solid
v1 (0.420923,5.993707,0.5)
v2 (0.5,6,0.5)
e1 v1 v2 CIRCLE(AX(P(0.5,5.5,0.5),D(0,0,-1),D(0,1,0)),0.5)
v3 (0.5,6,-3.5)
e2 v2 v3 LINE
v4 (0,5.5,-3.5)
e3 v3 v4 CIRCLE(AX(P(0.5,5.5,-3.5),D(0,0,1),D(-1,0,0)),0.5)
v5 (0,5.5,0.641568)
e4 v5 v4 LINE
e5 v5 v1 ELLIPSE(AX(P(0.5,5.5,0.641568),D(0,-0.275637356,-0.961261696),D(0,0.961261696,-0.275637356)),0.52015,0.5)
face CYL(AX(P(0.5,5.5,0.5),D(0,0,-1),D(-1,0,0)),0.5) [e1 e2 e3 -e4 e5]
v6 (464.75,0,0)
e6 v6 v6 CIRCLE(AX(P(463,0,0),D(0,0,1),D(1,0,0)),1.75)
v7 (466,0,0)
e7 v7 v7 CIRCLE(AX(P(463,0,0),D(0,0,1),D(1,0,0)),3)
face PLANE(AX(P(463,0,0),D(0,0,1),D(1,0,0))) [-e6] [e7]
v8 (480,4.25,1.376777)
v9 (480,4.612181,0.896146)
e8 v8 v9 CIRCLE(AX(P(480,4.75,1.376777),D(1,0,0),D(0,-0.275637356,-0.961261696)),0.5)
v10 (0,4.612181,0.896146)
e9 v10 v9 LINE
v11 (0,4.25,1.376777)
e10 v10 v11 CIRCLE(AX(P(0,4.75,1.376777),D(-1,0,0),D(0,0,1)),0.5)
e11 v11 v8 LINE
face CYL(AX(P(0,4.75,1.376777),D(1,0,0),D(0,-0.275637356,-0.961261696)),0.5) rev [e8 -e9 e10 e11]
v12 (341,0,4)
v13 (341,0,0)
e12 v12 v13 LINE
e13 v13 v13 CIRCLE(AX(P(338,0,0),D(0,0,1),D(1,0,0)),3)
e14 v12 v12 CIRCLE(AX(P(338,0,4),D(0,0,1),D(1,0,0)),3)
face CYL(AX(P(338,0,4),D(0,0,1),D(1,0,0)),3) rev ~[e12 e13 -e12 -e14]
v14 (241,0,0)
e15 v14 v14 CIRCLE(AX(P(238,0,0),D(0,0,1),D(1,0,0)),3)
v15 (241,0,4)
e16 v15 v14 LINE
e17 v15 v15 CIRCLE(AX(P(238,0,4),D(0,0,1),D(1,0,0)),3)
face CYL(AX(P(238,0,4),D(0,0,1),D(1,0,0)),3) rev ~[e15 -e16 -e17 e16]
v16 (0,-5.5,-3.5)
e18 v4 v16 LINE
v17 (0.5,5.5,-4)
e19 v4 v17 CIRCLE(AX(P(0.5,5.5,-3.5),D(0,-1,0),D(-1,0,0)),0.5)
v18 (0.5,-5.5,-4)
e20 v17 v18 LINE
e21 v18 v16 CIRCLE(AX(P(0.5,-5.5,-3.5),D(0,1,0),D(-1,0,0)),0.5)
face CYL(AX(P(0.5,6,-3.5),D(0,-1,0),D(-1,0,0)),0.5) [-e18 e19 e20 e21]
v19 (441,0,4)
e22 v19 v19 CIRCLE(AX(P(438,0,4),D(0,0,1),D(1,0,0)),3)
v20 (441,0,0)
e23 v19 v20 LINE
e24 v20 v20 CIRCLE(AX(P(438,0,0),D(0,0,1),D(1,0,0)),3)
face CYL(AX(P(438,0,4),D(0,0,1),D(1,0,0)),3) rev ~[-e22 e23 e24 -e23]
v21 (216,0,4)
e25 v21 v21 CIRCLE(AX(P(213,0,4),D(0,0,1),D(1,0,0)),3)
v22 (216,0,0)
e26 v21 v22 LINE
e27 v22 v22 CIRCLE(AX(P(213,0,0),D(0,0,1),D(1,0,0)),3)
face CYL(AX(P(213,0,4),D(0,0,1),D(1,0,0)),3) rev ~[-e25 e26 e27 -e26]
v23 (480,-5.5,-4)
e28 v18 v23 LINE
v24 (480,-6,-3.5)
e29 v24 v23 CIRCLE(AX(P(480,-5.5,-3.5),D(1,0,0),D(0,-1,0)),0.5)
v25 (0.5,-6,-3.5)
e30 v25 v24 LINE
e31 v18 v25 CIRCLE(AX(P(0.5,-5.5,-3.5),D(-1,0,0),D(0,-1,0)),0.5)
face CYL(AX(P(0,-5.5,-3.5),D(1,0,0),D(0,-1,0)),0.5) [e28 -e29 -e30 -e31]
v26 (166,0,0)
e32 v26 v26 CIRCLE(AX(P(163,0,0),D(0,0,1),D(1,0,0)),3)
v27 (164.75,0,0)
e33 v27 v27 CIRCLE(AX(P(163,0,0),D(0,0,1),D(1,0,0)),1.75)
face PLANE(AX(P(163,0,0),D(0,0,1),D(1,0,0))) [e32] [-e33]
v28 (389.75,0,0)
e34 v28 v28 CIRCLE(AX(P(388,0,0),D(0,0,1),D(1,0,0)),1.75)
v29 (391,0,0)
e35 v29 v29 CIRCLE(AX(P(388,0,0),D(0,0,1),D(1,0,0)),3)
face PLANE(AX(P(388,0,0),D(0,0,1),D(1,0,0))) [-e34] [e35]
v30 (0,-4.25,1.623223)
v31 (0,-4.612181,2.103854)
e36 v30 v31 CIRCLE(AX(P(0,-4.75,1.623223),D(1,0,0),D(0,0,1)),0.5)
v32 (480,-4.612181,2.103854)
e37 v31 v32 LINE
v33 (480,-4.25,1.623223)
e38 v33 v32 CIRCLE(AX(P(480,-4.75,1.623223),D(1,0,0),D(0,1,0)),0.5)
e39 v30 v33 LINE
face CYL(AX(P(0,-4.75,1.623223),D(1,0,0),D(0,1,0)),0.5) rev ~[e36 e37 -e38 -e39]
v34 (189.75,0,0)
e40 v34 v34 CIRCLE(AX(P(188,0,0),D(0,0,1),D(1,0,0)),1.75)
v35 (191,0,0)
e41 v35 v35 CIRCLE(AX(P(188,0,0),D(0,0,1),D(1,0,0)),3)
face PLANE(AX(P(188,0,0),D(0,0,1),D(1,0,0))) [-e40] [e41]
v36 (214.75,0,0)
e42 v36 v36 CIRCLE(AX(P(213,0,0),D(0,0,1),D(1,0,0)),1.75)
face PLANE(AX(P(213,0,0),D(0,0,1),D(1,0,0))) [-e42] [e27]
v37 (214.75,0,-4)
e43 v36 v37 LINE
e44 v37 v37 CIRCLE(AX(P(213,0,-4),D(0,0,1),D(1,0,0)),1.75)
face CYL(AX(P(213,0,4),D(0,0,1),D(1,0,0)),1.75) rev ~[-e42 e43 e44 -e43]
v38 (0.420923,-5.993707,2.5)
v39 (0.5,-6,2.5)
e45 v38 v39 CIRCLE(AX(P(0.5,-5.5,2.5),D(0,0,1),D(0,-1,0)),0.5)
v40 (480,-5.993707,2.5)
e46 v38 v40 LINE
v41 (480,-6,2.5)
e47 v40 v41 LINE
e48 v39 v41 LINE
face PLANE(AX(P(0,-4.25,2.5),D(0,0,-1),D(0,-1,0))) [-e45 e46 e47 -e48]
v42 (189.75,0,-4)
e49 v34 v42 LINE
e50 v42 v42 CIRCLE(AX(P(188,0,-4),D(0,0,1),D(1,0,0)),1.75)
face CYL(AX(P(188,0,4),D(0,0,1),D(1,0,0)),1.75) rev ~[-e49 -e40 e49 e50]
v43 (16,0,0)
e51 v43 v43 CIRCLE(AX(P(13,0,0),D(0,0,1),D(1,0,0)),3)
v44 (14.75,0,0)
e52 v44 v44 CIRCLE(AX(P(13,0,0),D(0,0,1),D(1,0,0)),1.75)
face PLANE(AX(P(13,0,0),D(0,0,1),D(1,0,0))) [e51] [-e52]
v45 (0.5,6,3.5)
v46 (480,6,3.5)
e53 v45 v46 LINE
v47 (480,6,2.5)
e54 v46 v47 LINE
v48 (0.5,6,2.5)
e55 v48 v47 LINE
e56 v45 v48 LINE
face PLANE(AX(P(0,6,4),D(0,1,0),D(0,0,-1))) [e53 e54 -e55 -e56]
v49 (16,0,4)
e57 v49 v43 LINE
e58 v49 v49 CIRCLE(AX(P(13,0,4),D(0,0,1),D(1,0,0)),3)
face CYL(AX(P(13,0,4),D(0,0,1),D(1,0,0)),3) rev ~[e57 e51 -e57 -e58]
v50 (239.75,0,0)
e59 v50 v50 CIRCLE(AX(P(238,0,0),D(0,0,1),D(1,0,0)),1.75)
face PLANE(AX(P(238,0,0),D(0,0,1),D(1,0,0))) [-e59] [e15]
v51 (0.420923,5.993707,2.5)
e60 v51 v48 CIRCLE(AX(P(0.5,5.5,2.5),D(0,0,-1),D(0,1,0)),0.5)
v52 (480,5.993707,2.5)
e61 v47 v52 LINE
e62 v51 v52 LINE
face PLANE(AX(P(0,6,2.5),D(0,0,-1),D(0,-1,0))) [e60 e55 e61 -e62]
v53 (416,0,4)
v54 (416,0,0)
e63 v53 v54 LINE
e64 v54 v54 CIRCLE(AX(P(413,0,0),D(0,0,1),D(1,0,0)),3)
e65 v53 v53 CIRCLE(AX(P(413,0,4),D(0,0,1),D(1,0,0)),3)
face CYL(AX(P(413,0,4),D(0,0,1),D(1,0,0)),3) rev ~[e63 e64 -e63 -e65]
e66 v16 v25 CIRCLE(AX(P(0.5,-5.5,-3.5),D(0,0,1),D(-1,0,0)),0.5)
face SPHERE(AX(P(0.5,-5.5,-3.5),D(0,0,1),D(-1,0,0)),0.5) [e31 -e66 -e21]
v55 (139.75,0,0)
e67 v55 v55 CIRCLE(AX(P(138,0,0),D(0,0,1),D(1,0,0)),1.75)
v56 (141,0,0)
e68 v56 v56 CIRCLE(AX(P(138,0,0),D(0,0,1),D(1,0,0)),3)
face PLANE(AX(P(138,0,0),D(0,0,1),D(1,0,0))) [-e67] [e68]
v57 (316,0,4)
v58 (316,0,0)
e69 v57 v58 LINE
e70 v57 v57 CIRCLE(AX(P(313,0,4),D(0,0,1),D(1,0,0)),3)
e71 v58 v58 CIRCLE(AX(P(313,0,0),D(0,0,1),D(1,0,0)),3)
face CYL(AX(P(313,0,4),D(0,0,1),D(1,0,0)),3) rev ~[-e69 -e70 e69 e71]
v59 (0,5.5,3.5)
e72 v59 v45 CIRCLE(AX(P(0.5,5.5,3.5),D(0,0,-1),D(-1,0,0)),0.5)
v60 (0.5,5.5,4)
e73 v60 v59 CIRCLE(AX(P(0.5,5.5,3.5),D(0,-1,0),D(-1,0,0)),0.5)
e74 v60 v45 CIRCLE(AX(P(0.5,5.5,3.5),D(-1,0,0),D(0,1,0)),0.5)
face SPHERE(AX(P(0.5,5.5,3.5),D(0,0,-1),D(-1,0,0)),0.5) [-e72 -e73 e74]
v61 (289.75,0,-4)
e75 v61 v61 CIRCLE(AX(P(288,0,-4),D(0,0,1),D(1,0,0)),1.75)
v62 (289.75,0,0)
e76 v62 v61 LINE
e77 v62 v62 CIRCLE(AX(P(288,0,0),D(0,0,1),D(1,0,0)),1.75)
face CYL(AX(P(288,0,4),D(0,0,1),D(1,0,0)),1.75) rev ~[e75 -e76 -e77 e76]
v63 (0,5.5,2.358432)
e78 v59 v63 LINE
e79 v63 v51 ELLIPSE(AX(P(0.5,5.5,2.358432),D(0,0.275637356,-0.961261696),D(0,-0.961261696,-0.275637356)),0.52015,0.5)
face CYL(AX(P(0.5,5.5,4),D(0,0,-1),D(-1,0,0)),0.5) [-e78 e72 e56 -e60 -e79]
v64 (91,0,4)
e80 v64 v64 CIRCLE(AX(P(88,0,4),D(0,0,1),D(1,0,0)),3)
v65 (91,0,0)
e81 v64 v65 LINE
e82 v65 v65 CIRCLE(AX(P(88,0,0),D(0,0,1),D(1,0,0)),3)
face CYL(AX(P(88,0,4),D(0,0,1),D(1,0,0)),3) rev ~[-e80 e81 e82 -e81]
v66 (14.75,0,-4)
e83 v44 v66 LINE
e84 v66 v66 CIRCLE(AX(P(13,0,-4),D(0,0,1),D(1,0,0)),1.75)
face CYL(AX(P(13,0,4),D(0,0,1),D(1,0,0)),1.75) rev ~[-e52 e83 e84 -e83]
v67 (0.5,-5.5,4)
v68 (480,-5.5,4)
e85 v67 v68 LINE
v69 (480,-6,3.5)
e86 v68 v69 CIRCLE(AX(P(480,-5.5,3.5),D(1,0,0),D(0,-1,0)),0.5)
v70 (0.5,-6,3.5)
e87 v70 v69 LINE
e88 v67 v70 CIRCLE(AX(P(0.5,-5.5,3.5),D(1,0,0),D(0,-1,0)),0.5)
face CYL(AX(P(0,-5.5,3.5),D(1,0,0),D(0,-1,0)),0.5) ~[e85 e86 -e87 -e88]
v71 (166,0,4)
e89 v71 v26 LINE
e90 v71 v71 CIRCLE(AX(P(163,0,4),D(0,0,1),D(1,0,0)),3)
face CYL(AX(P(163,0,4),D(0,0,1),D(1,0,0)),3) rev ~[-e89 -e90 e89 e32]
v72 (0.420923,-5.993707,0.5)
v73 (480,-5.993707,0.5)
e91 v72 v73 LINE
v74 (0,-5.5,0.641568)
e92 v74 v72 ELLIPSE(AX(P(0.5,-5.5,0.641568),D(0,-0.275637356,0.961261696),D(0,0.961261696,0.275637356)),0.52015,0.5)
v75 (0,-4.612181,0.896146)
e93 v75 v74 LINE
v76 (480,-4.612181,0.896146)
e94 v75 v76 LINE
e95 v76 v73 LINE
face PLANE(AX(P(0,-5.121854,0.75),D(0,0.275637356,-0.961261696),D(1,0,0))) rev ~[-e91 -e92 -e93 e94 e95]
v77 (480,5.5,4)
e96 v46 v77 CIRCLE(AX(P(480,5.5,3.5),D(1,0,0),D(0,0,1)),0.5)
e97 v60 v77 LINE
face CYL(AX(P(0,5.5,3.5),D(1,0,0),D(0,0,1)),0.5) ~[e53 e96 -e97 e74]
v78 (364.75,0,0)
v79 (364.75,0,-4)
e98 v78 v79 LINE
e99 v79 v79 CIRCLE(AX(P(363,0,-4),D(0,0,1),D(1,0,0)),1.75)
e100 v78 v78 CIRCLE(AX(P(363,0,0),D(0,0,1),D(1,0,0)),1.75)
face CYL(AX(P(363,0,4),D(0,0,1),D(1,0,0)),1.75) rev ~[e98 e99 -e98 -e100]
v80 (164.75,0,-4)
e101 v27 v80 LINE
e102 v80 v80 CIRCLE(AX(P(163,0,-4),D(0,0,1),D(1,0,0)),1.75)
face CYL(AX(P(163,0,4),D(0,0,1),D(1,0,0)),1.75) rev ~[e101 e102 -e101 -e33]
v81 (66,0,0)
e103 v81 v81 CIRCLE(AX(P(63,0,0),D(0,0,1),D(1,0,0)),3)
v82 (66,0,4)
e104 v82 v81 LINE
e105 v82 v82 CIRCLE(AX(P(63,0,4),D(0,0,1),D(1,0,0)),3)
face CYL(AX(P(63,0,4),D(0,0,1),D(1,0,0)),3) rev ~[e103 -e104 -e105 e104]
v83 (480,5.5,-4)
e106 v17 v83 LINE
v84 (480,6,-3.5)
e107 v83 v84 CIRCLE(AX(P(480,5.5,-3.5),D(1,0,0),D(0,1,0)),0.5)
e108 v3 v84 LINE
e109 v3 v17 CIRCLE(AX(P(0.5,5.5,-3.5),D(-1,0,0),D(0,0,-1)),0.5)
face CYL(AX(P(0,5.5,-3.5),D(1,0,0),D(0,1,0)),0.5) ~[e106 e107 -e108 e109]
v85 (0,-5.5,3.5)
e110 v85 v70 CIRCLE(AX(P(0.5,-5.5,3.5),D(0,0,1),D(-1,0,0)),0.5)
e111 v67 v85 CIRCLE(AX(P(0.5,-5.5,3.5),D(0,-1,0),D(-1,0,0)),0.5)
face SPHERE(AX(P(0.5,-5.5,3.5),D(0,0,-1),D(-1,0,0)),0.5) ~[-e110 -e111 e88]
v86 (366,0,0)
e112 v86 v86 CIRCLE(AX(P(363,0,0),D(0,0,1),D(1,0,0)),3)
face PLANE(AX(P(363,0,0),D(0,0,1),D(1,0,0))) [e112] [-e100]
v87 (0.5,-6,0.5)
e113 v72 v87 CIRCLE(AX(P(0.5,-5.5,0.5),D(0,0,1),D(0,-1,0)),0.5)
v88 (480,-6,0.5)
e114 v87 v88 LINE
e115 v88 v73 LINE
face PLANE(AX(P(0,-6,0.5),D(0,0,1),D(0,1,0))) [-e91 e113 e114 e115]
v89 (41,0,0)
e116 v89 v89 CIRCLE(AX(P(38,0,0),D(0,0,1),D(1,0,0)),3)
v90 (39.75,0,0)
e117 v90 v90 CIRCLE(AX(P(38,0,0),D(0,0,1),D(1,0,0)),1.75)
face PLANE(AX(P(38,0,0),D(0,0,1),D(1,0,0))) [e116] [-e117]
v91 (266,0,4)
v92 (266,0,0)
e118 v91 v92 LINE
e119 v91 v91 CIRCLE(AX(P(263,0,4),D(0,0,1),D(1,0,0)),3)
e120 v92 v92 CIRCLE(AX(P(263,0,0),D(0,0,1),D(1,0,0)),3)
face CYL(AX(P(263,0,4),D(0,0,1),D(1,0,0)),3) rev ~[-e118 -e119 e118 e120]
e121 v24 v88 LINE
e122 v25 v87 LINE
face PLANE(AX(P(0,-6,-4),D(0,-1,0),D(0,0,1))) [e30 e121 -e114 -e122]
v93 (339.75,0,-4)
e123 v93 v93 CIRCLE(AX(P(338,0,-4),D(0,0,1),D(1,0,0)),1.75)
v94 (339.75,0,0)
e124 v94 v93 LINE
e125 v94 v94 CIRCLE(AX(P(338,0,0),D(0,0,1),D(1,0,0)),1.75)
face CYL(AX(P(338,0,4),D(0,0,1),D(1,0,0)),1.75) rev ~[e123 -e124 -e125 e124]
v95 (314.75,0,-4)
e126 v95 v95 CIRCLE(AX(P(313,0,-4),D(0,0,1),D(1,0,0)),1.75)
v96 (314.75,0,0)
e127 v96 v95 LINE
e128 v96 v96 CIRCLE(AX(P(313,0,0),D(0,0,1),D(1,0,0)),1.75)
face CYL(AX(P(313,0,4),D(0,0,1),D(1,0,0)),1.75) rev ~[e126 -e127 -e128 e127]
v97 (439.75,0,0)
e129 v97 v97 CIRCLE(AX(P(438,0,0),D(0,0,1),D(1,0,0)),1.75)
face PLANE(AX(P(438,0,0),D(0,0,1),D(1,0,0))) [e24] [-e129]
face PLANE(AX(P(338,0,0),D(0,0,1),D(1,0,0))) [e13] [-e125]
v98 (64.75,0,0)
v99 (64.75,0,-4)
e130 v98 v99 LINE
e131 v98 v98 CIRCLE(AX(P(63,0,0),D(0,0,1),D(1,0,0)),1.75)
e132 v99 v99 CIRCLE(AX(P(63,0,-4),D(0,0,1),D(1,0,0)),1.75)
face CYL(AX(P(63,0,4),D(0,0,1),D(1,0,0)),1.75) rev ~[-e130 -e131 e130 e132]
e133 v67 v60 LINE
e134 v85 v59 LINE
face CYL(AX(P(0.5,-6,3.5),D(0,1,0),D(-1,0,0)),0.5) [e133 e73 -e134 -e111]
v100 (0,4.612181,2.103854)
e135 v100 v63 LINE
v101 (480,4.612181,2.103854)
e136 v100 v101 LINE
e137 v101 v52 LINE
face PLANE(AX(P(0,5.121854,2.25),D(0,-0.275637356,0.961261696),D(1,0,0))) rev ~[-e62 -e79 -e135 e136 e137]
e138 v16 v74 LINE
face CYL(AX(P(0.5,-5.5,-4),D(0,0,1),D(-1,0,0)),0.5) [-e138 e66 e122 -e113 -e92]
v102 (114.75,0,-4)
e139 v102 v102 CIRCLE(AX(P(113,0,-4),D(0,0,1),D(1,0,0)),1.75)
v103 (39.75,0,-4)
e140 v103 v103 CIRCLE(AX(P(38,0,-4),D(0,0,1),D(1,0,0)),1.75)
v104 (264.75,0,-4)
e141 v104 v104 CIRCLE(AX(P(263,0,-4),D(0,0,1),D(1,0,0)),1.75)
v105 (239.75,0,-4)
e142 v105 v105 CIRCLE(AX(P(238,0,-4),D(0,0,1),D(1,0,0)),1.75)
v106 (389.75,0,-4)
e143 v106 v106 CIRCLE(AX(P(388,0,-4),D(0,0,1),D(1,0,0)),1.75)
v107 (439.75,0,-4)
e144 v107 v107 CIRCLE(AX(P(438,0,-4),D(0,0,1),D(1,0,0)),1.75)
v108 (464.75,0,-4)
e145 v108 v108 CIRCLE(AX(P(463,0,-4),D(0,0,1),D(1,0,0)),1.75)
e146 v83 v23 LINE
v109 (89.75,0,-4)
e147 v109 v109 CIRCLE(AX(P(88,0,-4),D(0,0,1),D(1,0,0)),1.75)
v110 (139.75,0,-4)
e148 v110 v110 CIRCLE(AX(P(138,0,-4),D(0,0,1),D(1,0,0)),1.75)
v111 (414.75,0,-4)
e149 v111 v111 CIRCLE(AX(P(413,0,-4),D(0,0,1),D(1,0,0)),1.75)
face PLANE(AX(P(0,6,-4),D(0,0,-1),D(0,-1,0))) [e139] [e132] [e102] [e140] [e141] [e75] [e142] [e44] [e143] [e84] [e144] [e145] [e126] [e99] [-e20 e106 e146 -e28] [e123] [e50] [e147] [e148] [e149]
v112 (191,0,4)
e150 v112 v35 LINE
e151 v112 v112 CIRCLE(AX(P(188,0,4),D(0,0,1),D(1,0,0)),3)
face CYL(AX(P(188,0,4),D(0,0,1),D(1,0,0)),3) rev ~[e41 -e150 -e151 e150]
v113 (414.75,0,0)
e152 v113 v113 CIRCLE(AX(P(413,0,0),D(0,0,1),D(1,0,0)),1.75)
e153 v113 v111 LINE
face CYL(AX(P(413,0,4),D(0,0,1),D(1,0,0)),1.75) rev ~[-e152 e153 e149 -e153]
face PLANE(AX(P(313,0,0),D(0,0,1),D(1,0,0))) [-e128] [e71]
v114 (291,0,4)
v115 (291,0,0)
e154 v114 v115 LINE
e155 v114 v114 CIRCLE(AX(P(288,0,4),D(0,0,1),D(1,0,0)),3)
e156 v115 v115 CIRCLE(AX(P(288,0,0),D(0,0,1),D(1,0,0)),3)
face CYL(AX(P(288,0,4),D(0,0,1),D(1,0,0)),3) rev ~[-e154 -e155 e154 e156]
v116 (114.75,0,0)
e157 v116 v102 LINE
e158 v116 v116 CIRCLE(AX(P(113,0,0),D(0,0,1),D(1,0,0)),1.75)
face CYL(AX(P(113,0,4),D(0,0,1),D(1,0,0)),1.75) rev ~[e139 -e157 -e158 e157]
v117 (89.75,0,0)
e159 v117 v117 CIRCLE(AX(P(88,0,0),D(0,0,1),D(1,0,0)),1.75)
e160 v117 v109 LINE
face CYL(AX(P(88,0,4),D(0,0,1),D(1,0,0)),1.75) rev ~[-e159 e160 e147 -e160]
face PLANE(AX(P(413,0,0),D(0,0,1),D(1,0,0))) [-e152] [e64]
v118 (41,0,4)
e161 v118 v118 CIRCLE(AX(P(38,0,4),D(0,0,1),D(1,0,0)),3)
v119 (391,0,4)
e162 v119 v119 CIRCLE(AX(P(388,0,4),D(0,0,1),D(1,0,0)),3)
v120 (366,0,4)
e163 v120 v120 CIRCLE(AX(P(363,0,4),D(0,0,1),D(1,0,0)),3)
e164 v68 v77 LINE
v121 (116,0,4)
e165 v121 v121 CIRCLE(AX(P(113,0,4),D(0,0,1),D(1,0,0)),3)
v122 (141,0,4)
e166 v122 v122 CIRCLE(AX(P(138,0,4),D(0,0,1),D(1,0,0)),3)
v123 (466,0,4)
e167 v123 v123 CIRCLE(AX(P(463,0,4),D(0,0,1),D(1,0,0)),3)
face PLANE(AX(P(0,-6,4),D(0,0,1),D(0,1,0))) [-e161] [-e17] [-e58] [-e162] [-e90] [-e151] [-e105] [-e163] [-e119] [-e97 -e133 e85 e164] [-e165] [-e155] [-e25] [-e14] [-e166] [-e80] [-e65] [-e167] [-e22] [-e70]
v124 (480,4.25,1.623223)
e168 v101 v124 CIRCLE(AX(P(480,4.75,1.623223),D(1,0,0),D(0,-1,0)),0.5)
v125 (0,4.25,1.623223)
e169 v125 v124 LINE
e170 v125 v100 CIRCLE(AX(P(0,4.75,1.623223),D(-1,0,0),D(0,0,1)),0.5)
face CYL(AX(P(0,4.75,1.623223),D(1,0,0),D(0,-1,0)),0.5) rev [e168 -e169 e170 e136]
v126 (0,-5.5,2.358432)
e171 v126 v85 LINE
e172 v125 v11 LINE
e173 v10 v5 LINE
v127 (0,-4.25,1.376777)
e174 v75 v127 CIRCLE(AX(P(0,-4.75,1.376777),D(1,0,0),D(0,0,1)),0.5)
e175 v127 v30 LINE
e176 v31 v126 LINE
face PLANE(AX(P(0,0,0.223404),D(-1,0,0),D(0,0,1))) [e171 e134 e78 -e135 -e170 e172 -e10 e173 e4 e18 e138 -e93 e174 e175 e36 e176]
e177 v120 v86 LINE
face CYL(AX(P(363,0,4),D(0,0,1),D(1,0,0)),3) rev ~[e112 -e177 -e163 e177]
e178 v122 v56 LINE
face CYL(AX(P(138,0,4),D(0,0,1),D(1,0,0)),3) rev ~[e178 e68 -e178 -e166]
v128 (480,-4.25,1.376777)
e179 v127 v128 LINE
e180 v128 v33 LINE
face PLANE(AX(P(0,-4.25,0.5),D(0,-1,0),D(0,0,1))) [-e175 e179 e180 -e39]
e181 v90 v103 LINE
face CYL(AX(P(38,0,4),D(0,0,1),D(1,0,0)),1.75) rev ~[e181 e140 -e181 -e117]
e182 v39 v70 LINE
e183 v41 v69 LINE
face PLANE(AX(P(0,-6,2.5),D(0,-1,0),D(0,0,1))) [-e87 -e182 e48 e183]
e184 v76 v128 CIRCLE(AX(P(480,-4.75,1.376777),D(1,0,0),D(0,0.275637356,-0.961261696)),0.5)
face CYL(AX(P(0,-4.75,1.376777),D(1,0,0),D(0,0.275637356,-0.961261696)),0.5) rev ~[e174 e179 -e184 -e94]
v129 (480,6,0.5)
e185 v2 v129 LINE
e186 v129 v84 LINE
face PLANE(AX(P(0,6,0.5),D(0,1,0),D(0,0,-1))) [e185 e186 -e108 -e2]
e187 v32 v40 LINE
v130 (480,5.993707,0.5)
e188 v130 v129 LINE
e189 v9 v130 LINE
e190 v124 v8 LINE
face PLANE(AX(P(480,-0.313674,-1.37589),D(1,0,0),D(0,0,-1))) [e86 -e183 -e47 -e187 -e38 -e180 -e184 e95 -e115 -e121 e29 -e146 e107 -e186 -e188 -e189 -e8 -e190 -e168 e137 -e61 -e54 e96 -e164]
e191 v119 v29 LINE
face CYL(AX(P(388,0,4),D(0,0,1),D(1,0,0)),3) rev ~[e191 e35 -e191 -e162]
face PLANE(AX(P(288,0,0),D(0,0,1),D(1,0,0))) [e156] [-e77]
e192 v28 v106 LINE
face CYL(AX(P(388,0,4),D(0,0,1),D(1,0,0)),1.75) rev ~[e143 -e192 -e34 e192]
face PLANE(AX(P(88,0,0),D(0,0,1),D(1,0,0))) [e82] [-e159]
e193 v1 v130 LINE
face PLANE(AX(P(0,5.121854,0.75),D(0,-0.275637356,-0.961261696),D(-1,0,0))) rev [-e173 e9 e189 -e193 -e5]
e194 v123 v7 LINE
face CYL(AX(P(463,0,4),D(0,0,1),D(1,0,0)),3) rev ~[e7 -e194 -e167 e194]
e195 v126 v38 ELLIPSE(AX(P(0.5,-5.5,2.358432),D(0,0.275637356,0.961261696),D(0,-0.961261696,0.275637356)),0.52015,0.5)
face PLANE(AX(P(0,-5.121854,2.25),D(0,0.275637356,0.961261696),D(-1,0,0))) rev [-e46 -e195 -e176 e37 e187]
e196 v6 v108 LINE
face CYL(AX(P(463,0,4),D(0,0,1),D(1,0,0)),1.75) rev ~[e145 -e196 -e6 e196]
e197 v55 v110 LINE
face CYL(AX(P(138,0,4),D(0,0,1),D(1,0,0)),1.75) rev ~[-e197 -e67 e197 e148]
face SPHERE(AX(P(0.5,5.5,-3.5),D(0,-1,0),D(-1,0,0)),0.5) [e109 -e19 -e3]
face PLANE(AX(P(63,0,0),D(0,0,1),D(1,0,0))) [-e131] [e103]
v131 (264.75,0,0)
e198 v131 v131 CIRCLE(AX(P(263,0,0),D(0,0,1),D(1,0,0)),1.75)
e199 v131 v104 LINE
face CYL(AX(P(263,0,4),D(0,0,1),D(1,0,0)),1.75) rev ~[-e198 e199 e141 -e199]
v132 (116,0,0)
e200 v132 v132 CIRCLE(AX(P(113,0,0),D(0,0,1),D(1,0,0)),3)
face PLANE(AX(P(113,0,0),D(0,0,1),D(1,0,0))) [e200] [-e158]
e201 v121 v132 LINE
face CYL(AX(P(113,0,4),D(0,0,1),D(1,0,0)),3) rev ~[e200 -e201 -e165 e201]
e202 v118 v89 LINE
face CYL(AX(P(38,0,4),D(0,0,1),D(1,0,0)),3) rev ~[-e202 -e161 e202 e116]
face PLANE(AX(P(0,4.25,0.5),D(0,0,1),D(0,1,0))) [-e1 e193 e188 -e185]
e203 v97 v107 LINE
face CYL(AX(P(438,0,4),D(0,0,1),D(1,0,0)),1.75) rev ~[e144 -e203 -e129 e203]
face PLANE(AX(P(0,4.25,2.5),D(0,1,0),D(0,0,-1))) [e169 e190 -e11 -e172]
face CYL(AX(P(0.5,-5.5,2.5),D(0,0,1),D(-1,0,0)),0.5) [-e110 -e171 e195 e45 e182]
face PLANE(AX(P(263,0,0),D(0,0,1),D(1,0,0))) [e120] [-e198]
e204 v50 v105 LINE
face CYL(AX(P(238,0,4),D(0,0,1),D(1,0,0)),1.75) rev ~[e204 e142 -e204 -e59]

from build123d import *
from OCP.BRepFilletAPI import BRepFilletAPI_MakeChamfer

# Parameters (mm, degrees)
BOSS_EXTRUDE1_DEPTH = 500
SKETCH2_R           = 1.75
CUT_EXTRUDE1_DEPTH  = 10
SKETCH3_R           = 3
CUT_EXTRUDE2_DEPTH  = 4
CHAMFER1_SIZE       = 0.5
CHAMFER1_SIZE2      = 1.743707222
FILLET1_R           = 0.5
SKETCH_2_W          = 13.160064583
SKETCH_2_H          = 15.469848399
CUT_EXTRUDE_2_DEPTH = 20


with BuildPart() as part:
    # Sketch1 → Boss-Extrude1 (new body)
    with BuildSketch(Plane(origin=(0, 0, 0), x_dir=(0, 0, -1), z_dir=(1, 0, 0))):
        Polygon((-0.5, 6), (4, 6), (4, -6), (-0.5, -6), (-0.5, -4.25), (-2.5, -4.25), (-2.5, -6), (-4, -6), (-4, 6), (-2.5, 6), (-2.5, 4.25), (-0.5, 4.25), align=None)
    extrude(amount=BOSS_EXTRUDE1_DEPTH)

    # Sketch2 → Cut-Extrude1 (cut)
    with BuildSketch(Plane.XY.offset(4)):
        with Locations((13, 0)):
            Circle(SKETCH2_R)
        with Locations((38, 0)):
            Circle(SKETCH2_R)
        with Locations((63, 0)):
            Circle(SKETCH2_R)
        with Locations((88, 0)):
            Circle(SKETCH2_R)
        with Locations((113, 0)):
            Circle(SKETCH2_R)
        with Locations((138, 0)):
            Circle(SKETCH2_R)
        with Locations((163, 0)):
            Circle(SKETCH2_R)
        with Locations((188, 0)):
            Circle(SKETCH2_R)
        with Locations((213, 0)):
            Circle(SKETCH2_R)
        with Locations((238, 0)):
            Circle(SKETCH2_R)
        with Locations((263, 0)):
            Circle(SKETCH2_R)
        with Locations((288, 0)):
            Circle(SKETCH2_R)
        with Locations((313, 0)):
            Circle(SKETCH2_R)
        with Locations((338, 0)):
            Circle(SKETCH2_R)
        with Locations((363, 0)):
            Circle(SKETCH2_R)
        with Locations((388, 0)):
            Circle(SKETCH2_R)
        with Locations((413, 0)):
            Circle(SKETCH2_R)
        with Locations((438, 0)):
            Circle(SKETCH2_R)
        with Locations((463, 0)):
            Circle(SKETCH2_R)
        with Locations((488, 0)):
            Circle(SKETCH2_R)
    extrude(amount=-CUT_EXTRUDE1_DEPTH, mode=Mode.SUBTRACT)

    # Sketch3 → Cut-Extrude2 (cut)
    with BuildSketch(Plane.XY.offset(4)):
        with Locations((13, 0)):
            Circle(SKETCH3_R)
        with Locations((38, 0)):
            Circle(SKETCH3_R)
        with Locations((63, 0)):
            Circle(SKETCH3_R)
        with Locations((88, 0)):
            Circle(SKETCH3_R)
        with Locations((113, 0)):
            Circle(SKETCH3_R)
        with Locations((138, 0)):
            Circle(SKETCH3_R)
        with Locations((163, 0)):
            Circle(SKETCH3_R)
        with Locations((188, 0)):
            Circle(SKETCH3_R)
        with Locations((213, 0)):
            Circle(SKETCH3_R)
        with Locations((238, 0)):
            Circle(SKETCH3_R)
        with Locations((263, 0)):
            Circle(SKETCH3_R)
        with Locations((288, 0)):
            Circle(SKETCH3_R)
        with Locations((313, 0)):
            Circle(SKETCH3_R)
        with Locations((338, 0)):
            Circle(SKETCH3_R)
        with Locations((363, 0)):
            Circle(SKETCH3_R)
        with Locations((388, 0)):
            Circle(SKETCH3_R)
        with Locations((413, 0)):
            Circle(SKETCH3_R)
        with Locations((438, 0)):
            Circle(SKETCH3_R)
        with Locations((463, 0)):
            Circle(SKETCH3_R)
        with Locations((488, 0)):
            Circle(SKETCH3_R)
    extrude(amount=-CUT_EXTRUDE2_DEPTH, mode=Mode.SUBTRACT)

    # Chamfer1: one chamfer whose edges measure the first distance from different faces: ONE call of the kernel's chamfer builder (chamfer() names one face for all edges)
    chamfer1_edges_1 = [part.edges().sort_by_distance(p)[0] for p in [
        (250, -4.25, 0.5),
        (250, -4.25, 2.5),
    ]]
    chamfer1_side_1 = [part.faces().sort_by_distance(p)[0] for p in [
        (250, -4.25, 1.5),
    ]]
    chamfer1_edges_2 = [part.edges().sort_by_distance(p)[0] for p in [
        (250, 4.25, 2.5),
        (250, 4.25, 0.5),
    ]]
    chamfer1_side_2 = [part.faces().sort_by_distance(p)[0] for p in [
        (250, 4.25, 1.5),
    ]]
    chamfer1 = BRepFilletAPI_MakeChamfer(part.part.solid().wrapped)
    for e in chamfer1_edges_1:
        chamfer1.Add(CHAMFER1_SIZE, CHAMFER1_SIZE2, e.wrapped, chamfer1_side_1[0].wrapped)  # the first distance lies on this face
    for e in chamfer1_edges_2:
        chamfer1.Add(CHAMFER1_SIZE, CHAMFER1_SIZE2, e.wrapped, chamfer1_side_2[0].wrapped)  # the first distance lies on this face
    add(Compound.cast(chamfer1.Shape()), mode=Mode.REPLACE)

    # Fillet1
    fillet1_edges = [part.edges().sort_by_distance(p)[0] for p in [
        (500, -6, -1.75),
        (500, 0, -4),
        (500, 6, -1.75),
        (500, 6, 3.25),
        (500, 0, 4),
        (500, -6, 3.25),
        (0, -6, 3.25),
        (0, -6, -1.75),
        (0, 0, -4),
        (0, 6, -1.75),
        (0, 6, 3.25),
        (0, 0, 4),
        (250, -4.25, 1),
        (250, -4.25, 2),
        (250, 4.25, 2),
        (250, 4.25, 1),
        (250, -6, 4),
        (250, 6, 4),
        (250, -6, -4),
        (250, 6, -4),
    ]]
    fillet(fillet1_edges, radius=FILLET1_R)

    # 草图2 → 切除-拉伸2 (cut)
    with BuildSketch(Plane(origin=(500, 0, 0), x_dir=(0, 0, -1), z_dir=(1, 0, 0))):
        with Locations((1.375889743, -0.313674346)):
            Rectangle(SKETCH_2_W, SKETCH_2_H)
    extrude(amount=-CUT_EXTRUDE_2_DEPTH, mode=Mode.SUBTRACT)


solid = part.part
